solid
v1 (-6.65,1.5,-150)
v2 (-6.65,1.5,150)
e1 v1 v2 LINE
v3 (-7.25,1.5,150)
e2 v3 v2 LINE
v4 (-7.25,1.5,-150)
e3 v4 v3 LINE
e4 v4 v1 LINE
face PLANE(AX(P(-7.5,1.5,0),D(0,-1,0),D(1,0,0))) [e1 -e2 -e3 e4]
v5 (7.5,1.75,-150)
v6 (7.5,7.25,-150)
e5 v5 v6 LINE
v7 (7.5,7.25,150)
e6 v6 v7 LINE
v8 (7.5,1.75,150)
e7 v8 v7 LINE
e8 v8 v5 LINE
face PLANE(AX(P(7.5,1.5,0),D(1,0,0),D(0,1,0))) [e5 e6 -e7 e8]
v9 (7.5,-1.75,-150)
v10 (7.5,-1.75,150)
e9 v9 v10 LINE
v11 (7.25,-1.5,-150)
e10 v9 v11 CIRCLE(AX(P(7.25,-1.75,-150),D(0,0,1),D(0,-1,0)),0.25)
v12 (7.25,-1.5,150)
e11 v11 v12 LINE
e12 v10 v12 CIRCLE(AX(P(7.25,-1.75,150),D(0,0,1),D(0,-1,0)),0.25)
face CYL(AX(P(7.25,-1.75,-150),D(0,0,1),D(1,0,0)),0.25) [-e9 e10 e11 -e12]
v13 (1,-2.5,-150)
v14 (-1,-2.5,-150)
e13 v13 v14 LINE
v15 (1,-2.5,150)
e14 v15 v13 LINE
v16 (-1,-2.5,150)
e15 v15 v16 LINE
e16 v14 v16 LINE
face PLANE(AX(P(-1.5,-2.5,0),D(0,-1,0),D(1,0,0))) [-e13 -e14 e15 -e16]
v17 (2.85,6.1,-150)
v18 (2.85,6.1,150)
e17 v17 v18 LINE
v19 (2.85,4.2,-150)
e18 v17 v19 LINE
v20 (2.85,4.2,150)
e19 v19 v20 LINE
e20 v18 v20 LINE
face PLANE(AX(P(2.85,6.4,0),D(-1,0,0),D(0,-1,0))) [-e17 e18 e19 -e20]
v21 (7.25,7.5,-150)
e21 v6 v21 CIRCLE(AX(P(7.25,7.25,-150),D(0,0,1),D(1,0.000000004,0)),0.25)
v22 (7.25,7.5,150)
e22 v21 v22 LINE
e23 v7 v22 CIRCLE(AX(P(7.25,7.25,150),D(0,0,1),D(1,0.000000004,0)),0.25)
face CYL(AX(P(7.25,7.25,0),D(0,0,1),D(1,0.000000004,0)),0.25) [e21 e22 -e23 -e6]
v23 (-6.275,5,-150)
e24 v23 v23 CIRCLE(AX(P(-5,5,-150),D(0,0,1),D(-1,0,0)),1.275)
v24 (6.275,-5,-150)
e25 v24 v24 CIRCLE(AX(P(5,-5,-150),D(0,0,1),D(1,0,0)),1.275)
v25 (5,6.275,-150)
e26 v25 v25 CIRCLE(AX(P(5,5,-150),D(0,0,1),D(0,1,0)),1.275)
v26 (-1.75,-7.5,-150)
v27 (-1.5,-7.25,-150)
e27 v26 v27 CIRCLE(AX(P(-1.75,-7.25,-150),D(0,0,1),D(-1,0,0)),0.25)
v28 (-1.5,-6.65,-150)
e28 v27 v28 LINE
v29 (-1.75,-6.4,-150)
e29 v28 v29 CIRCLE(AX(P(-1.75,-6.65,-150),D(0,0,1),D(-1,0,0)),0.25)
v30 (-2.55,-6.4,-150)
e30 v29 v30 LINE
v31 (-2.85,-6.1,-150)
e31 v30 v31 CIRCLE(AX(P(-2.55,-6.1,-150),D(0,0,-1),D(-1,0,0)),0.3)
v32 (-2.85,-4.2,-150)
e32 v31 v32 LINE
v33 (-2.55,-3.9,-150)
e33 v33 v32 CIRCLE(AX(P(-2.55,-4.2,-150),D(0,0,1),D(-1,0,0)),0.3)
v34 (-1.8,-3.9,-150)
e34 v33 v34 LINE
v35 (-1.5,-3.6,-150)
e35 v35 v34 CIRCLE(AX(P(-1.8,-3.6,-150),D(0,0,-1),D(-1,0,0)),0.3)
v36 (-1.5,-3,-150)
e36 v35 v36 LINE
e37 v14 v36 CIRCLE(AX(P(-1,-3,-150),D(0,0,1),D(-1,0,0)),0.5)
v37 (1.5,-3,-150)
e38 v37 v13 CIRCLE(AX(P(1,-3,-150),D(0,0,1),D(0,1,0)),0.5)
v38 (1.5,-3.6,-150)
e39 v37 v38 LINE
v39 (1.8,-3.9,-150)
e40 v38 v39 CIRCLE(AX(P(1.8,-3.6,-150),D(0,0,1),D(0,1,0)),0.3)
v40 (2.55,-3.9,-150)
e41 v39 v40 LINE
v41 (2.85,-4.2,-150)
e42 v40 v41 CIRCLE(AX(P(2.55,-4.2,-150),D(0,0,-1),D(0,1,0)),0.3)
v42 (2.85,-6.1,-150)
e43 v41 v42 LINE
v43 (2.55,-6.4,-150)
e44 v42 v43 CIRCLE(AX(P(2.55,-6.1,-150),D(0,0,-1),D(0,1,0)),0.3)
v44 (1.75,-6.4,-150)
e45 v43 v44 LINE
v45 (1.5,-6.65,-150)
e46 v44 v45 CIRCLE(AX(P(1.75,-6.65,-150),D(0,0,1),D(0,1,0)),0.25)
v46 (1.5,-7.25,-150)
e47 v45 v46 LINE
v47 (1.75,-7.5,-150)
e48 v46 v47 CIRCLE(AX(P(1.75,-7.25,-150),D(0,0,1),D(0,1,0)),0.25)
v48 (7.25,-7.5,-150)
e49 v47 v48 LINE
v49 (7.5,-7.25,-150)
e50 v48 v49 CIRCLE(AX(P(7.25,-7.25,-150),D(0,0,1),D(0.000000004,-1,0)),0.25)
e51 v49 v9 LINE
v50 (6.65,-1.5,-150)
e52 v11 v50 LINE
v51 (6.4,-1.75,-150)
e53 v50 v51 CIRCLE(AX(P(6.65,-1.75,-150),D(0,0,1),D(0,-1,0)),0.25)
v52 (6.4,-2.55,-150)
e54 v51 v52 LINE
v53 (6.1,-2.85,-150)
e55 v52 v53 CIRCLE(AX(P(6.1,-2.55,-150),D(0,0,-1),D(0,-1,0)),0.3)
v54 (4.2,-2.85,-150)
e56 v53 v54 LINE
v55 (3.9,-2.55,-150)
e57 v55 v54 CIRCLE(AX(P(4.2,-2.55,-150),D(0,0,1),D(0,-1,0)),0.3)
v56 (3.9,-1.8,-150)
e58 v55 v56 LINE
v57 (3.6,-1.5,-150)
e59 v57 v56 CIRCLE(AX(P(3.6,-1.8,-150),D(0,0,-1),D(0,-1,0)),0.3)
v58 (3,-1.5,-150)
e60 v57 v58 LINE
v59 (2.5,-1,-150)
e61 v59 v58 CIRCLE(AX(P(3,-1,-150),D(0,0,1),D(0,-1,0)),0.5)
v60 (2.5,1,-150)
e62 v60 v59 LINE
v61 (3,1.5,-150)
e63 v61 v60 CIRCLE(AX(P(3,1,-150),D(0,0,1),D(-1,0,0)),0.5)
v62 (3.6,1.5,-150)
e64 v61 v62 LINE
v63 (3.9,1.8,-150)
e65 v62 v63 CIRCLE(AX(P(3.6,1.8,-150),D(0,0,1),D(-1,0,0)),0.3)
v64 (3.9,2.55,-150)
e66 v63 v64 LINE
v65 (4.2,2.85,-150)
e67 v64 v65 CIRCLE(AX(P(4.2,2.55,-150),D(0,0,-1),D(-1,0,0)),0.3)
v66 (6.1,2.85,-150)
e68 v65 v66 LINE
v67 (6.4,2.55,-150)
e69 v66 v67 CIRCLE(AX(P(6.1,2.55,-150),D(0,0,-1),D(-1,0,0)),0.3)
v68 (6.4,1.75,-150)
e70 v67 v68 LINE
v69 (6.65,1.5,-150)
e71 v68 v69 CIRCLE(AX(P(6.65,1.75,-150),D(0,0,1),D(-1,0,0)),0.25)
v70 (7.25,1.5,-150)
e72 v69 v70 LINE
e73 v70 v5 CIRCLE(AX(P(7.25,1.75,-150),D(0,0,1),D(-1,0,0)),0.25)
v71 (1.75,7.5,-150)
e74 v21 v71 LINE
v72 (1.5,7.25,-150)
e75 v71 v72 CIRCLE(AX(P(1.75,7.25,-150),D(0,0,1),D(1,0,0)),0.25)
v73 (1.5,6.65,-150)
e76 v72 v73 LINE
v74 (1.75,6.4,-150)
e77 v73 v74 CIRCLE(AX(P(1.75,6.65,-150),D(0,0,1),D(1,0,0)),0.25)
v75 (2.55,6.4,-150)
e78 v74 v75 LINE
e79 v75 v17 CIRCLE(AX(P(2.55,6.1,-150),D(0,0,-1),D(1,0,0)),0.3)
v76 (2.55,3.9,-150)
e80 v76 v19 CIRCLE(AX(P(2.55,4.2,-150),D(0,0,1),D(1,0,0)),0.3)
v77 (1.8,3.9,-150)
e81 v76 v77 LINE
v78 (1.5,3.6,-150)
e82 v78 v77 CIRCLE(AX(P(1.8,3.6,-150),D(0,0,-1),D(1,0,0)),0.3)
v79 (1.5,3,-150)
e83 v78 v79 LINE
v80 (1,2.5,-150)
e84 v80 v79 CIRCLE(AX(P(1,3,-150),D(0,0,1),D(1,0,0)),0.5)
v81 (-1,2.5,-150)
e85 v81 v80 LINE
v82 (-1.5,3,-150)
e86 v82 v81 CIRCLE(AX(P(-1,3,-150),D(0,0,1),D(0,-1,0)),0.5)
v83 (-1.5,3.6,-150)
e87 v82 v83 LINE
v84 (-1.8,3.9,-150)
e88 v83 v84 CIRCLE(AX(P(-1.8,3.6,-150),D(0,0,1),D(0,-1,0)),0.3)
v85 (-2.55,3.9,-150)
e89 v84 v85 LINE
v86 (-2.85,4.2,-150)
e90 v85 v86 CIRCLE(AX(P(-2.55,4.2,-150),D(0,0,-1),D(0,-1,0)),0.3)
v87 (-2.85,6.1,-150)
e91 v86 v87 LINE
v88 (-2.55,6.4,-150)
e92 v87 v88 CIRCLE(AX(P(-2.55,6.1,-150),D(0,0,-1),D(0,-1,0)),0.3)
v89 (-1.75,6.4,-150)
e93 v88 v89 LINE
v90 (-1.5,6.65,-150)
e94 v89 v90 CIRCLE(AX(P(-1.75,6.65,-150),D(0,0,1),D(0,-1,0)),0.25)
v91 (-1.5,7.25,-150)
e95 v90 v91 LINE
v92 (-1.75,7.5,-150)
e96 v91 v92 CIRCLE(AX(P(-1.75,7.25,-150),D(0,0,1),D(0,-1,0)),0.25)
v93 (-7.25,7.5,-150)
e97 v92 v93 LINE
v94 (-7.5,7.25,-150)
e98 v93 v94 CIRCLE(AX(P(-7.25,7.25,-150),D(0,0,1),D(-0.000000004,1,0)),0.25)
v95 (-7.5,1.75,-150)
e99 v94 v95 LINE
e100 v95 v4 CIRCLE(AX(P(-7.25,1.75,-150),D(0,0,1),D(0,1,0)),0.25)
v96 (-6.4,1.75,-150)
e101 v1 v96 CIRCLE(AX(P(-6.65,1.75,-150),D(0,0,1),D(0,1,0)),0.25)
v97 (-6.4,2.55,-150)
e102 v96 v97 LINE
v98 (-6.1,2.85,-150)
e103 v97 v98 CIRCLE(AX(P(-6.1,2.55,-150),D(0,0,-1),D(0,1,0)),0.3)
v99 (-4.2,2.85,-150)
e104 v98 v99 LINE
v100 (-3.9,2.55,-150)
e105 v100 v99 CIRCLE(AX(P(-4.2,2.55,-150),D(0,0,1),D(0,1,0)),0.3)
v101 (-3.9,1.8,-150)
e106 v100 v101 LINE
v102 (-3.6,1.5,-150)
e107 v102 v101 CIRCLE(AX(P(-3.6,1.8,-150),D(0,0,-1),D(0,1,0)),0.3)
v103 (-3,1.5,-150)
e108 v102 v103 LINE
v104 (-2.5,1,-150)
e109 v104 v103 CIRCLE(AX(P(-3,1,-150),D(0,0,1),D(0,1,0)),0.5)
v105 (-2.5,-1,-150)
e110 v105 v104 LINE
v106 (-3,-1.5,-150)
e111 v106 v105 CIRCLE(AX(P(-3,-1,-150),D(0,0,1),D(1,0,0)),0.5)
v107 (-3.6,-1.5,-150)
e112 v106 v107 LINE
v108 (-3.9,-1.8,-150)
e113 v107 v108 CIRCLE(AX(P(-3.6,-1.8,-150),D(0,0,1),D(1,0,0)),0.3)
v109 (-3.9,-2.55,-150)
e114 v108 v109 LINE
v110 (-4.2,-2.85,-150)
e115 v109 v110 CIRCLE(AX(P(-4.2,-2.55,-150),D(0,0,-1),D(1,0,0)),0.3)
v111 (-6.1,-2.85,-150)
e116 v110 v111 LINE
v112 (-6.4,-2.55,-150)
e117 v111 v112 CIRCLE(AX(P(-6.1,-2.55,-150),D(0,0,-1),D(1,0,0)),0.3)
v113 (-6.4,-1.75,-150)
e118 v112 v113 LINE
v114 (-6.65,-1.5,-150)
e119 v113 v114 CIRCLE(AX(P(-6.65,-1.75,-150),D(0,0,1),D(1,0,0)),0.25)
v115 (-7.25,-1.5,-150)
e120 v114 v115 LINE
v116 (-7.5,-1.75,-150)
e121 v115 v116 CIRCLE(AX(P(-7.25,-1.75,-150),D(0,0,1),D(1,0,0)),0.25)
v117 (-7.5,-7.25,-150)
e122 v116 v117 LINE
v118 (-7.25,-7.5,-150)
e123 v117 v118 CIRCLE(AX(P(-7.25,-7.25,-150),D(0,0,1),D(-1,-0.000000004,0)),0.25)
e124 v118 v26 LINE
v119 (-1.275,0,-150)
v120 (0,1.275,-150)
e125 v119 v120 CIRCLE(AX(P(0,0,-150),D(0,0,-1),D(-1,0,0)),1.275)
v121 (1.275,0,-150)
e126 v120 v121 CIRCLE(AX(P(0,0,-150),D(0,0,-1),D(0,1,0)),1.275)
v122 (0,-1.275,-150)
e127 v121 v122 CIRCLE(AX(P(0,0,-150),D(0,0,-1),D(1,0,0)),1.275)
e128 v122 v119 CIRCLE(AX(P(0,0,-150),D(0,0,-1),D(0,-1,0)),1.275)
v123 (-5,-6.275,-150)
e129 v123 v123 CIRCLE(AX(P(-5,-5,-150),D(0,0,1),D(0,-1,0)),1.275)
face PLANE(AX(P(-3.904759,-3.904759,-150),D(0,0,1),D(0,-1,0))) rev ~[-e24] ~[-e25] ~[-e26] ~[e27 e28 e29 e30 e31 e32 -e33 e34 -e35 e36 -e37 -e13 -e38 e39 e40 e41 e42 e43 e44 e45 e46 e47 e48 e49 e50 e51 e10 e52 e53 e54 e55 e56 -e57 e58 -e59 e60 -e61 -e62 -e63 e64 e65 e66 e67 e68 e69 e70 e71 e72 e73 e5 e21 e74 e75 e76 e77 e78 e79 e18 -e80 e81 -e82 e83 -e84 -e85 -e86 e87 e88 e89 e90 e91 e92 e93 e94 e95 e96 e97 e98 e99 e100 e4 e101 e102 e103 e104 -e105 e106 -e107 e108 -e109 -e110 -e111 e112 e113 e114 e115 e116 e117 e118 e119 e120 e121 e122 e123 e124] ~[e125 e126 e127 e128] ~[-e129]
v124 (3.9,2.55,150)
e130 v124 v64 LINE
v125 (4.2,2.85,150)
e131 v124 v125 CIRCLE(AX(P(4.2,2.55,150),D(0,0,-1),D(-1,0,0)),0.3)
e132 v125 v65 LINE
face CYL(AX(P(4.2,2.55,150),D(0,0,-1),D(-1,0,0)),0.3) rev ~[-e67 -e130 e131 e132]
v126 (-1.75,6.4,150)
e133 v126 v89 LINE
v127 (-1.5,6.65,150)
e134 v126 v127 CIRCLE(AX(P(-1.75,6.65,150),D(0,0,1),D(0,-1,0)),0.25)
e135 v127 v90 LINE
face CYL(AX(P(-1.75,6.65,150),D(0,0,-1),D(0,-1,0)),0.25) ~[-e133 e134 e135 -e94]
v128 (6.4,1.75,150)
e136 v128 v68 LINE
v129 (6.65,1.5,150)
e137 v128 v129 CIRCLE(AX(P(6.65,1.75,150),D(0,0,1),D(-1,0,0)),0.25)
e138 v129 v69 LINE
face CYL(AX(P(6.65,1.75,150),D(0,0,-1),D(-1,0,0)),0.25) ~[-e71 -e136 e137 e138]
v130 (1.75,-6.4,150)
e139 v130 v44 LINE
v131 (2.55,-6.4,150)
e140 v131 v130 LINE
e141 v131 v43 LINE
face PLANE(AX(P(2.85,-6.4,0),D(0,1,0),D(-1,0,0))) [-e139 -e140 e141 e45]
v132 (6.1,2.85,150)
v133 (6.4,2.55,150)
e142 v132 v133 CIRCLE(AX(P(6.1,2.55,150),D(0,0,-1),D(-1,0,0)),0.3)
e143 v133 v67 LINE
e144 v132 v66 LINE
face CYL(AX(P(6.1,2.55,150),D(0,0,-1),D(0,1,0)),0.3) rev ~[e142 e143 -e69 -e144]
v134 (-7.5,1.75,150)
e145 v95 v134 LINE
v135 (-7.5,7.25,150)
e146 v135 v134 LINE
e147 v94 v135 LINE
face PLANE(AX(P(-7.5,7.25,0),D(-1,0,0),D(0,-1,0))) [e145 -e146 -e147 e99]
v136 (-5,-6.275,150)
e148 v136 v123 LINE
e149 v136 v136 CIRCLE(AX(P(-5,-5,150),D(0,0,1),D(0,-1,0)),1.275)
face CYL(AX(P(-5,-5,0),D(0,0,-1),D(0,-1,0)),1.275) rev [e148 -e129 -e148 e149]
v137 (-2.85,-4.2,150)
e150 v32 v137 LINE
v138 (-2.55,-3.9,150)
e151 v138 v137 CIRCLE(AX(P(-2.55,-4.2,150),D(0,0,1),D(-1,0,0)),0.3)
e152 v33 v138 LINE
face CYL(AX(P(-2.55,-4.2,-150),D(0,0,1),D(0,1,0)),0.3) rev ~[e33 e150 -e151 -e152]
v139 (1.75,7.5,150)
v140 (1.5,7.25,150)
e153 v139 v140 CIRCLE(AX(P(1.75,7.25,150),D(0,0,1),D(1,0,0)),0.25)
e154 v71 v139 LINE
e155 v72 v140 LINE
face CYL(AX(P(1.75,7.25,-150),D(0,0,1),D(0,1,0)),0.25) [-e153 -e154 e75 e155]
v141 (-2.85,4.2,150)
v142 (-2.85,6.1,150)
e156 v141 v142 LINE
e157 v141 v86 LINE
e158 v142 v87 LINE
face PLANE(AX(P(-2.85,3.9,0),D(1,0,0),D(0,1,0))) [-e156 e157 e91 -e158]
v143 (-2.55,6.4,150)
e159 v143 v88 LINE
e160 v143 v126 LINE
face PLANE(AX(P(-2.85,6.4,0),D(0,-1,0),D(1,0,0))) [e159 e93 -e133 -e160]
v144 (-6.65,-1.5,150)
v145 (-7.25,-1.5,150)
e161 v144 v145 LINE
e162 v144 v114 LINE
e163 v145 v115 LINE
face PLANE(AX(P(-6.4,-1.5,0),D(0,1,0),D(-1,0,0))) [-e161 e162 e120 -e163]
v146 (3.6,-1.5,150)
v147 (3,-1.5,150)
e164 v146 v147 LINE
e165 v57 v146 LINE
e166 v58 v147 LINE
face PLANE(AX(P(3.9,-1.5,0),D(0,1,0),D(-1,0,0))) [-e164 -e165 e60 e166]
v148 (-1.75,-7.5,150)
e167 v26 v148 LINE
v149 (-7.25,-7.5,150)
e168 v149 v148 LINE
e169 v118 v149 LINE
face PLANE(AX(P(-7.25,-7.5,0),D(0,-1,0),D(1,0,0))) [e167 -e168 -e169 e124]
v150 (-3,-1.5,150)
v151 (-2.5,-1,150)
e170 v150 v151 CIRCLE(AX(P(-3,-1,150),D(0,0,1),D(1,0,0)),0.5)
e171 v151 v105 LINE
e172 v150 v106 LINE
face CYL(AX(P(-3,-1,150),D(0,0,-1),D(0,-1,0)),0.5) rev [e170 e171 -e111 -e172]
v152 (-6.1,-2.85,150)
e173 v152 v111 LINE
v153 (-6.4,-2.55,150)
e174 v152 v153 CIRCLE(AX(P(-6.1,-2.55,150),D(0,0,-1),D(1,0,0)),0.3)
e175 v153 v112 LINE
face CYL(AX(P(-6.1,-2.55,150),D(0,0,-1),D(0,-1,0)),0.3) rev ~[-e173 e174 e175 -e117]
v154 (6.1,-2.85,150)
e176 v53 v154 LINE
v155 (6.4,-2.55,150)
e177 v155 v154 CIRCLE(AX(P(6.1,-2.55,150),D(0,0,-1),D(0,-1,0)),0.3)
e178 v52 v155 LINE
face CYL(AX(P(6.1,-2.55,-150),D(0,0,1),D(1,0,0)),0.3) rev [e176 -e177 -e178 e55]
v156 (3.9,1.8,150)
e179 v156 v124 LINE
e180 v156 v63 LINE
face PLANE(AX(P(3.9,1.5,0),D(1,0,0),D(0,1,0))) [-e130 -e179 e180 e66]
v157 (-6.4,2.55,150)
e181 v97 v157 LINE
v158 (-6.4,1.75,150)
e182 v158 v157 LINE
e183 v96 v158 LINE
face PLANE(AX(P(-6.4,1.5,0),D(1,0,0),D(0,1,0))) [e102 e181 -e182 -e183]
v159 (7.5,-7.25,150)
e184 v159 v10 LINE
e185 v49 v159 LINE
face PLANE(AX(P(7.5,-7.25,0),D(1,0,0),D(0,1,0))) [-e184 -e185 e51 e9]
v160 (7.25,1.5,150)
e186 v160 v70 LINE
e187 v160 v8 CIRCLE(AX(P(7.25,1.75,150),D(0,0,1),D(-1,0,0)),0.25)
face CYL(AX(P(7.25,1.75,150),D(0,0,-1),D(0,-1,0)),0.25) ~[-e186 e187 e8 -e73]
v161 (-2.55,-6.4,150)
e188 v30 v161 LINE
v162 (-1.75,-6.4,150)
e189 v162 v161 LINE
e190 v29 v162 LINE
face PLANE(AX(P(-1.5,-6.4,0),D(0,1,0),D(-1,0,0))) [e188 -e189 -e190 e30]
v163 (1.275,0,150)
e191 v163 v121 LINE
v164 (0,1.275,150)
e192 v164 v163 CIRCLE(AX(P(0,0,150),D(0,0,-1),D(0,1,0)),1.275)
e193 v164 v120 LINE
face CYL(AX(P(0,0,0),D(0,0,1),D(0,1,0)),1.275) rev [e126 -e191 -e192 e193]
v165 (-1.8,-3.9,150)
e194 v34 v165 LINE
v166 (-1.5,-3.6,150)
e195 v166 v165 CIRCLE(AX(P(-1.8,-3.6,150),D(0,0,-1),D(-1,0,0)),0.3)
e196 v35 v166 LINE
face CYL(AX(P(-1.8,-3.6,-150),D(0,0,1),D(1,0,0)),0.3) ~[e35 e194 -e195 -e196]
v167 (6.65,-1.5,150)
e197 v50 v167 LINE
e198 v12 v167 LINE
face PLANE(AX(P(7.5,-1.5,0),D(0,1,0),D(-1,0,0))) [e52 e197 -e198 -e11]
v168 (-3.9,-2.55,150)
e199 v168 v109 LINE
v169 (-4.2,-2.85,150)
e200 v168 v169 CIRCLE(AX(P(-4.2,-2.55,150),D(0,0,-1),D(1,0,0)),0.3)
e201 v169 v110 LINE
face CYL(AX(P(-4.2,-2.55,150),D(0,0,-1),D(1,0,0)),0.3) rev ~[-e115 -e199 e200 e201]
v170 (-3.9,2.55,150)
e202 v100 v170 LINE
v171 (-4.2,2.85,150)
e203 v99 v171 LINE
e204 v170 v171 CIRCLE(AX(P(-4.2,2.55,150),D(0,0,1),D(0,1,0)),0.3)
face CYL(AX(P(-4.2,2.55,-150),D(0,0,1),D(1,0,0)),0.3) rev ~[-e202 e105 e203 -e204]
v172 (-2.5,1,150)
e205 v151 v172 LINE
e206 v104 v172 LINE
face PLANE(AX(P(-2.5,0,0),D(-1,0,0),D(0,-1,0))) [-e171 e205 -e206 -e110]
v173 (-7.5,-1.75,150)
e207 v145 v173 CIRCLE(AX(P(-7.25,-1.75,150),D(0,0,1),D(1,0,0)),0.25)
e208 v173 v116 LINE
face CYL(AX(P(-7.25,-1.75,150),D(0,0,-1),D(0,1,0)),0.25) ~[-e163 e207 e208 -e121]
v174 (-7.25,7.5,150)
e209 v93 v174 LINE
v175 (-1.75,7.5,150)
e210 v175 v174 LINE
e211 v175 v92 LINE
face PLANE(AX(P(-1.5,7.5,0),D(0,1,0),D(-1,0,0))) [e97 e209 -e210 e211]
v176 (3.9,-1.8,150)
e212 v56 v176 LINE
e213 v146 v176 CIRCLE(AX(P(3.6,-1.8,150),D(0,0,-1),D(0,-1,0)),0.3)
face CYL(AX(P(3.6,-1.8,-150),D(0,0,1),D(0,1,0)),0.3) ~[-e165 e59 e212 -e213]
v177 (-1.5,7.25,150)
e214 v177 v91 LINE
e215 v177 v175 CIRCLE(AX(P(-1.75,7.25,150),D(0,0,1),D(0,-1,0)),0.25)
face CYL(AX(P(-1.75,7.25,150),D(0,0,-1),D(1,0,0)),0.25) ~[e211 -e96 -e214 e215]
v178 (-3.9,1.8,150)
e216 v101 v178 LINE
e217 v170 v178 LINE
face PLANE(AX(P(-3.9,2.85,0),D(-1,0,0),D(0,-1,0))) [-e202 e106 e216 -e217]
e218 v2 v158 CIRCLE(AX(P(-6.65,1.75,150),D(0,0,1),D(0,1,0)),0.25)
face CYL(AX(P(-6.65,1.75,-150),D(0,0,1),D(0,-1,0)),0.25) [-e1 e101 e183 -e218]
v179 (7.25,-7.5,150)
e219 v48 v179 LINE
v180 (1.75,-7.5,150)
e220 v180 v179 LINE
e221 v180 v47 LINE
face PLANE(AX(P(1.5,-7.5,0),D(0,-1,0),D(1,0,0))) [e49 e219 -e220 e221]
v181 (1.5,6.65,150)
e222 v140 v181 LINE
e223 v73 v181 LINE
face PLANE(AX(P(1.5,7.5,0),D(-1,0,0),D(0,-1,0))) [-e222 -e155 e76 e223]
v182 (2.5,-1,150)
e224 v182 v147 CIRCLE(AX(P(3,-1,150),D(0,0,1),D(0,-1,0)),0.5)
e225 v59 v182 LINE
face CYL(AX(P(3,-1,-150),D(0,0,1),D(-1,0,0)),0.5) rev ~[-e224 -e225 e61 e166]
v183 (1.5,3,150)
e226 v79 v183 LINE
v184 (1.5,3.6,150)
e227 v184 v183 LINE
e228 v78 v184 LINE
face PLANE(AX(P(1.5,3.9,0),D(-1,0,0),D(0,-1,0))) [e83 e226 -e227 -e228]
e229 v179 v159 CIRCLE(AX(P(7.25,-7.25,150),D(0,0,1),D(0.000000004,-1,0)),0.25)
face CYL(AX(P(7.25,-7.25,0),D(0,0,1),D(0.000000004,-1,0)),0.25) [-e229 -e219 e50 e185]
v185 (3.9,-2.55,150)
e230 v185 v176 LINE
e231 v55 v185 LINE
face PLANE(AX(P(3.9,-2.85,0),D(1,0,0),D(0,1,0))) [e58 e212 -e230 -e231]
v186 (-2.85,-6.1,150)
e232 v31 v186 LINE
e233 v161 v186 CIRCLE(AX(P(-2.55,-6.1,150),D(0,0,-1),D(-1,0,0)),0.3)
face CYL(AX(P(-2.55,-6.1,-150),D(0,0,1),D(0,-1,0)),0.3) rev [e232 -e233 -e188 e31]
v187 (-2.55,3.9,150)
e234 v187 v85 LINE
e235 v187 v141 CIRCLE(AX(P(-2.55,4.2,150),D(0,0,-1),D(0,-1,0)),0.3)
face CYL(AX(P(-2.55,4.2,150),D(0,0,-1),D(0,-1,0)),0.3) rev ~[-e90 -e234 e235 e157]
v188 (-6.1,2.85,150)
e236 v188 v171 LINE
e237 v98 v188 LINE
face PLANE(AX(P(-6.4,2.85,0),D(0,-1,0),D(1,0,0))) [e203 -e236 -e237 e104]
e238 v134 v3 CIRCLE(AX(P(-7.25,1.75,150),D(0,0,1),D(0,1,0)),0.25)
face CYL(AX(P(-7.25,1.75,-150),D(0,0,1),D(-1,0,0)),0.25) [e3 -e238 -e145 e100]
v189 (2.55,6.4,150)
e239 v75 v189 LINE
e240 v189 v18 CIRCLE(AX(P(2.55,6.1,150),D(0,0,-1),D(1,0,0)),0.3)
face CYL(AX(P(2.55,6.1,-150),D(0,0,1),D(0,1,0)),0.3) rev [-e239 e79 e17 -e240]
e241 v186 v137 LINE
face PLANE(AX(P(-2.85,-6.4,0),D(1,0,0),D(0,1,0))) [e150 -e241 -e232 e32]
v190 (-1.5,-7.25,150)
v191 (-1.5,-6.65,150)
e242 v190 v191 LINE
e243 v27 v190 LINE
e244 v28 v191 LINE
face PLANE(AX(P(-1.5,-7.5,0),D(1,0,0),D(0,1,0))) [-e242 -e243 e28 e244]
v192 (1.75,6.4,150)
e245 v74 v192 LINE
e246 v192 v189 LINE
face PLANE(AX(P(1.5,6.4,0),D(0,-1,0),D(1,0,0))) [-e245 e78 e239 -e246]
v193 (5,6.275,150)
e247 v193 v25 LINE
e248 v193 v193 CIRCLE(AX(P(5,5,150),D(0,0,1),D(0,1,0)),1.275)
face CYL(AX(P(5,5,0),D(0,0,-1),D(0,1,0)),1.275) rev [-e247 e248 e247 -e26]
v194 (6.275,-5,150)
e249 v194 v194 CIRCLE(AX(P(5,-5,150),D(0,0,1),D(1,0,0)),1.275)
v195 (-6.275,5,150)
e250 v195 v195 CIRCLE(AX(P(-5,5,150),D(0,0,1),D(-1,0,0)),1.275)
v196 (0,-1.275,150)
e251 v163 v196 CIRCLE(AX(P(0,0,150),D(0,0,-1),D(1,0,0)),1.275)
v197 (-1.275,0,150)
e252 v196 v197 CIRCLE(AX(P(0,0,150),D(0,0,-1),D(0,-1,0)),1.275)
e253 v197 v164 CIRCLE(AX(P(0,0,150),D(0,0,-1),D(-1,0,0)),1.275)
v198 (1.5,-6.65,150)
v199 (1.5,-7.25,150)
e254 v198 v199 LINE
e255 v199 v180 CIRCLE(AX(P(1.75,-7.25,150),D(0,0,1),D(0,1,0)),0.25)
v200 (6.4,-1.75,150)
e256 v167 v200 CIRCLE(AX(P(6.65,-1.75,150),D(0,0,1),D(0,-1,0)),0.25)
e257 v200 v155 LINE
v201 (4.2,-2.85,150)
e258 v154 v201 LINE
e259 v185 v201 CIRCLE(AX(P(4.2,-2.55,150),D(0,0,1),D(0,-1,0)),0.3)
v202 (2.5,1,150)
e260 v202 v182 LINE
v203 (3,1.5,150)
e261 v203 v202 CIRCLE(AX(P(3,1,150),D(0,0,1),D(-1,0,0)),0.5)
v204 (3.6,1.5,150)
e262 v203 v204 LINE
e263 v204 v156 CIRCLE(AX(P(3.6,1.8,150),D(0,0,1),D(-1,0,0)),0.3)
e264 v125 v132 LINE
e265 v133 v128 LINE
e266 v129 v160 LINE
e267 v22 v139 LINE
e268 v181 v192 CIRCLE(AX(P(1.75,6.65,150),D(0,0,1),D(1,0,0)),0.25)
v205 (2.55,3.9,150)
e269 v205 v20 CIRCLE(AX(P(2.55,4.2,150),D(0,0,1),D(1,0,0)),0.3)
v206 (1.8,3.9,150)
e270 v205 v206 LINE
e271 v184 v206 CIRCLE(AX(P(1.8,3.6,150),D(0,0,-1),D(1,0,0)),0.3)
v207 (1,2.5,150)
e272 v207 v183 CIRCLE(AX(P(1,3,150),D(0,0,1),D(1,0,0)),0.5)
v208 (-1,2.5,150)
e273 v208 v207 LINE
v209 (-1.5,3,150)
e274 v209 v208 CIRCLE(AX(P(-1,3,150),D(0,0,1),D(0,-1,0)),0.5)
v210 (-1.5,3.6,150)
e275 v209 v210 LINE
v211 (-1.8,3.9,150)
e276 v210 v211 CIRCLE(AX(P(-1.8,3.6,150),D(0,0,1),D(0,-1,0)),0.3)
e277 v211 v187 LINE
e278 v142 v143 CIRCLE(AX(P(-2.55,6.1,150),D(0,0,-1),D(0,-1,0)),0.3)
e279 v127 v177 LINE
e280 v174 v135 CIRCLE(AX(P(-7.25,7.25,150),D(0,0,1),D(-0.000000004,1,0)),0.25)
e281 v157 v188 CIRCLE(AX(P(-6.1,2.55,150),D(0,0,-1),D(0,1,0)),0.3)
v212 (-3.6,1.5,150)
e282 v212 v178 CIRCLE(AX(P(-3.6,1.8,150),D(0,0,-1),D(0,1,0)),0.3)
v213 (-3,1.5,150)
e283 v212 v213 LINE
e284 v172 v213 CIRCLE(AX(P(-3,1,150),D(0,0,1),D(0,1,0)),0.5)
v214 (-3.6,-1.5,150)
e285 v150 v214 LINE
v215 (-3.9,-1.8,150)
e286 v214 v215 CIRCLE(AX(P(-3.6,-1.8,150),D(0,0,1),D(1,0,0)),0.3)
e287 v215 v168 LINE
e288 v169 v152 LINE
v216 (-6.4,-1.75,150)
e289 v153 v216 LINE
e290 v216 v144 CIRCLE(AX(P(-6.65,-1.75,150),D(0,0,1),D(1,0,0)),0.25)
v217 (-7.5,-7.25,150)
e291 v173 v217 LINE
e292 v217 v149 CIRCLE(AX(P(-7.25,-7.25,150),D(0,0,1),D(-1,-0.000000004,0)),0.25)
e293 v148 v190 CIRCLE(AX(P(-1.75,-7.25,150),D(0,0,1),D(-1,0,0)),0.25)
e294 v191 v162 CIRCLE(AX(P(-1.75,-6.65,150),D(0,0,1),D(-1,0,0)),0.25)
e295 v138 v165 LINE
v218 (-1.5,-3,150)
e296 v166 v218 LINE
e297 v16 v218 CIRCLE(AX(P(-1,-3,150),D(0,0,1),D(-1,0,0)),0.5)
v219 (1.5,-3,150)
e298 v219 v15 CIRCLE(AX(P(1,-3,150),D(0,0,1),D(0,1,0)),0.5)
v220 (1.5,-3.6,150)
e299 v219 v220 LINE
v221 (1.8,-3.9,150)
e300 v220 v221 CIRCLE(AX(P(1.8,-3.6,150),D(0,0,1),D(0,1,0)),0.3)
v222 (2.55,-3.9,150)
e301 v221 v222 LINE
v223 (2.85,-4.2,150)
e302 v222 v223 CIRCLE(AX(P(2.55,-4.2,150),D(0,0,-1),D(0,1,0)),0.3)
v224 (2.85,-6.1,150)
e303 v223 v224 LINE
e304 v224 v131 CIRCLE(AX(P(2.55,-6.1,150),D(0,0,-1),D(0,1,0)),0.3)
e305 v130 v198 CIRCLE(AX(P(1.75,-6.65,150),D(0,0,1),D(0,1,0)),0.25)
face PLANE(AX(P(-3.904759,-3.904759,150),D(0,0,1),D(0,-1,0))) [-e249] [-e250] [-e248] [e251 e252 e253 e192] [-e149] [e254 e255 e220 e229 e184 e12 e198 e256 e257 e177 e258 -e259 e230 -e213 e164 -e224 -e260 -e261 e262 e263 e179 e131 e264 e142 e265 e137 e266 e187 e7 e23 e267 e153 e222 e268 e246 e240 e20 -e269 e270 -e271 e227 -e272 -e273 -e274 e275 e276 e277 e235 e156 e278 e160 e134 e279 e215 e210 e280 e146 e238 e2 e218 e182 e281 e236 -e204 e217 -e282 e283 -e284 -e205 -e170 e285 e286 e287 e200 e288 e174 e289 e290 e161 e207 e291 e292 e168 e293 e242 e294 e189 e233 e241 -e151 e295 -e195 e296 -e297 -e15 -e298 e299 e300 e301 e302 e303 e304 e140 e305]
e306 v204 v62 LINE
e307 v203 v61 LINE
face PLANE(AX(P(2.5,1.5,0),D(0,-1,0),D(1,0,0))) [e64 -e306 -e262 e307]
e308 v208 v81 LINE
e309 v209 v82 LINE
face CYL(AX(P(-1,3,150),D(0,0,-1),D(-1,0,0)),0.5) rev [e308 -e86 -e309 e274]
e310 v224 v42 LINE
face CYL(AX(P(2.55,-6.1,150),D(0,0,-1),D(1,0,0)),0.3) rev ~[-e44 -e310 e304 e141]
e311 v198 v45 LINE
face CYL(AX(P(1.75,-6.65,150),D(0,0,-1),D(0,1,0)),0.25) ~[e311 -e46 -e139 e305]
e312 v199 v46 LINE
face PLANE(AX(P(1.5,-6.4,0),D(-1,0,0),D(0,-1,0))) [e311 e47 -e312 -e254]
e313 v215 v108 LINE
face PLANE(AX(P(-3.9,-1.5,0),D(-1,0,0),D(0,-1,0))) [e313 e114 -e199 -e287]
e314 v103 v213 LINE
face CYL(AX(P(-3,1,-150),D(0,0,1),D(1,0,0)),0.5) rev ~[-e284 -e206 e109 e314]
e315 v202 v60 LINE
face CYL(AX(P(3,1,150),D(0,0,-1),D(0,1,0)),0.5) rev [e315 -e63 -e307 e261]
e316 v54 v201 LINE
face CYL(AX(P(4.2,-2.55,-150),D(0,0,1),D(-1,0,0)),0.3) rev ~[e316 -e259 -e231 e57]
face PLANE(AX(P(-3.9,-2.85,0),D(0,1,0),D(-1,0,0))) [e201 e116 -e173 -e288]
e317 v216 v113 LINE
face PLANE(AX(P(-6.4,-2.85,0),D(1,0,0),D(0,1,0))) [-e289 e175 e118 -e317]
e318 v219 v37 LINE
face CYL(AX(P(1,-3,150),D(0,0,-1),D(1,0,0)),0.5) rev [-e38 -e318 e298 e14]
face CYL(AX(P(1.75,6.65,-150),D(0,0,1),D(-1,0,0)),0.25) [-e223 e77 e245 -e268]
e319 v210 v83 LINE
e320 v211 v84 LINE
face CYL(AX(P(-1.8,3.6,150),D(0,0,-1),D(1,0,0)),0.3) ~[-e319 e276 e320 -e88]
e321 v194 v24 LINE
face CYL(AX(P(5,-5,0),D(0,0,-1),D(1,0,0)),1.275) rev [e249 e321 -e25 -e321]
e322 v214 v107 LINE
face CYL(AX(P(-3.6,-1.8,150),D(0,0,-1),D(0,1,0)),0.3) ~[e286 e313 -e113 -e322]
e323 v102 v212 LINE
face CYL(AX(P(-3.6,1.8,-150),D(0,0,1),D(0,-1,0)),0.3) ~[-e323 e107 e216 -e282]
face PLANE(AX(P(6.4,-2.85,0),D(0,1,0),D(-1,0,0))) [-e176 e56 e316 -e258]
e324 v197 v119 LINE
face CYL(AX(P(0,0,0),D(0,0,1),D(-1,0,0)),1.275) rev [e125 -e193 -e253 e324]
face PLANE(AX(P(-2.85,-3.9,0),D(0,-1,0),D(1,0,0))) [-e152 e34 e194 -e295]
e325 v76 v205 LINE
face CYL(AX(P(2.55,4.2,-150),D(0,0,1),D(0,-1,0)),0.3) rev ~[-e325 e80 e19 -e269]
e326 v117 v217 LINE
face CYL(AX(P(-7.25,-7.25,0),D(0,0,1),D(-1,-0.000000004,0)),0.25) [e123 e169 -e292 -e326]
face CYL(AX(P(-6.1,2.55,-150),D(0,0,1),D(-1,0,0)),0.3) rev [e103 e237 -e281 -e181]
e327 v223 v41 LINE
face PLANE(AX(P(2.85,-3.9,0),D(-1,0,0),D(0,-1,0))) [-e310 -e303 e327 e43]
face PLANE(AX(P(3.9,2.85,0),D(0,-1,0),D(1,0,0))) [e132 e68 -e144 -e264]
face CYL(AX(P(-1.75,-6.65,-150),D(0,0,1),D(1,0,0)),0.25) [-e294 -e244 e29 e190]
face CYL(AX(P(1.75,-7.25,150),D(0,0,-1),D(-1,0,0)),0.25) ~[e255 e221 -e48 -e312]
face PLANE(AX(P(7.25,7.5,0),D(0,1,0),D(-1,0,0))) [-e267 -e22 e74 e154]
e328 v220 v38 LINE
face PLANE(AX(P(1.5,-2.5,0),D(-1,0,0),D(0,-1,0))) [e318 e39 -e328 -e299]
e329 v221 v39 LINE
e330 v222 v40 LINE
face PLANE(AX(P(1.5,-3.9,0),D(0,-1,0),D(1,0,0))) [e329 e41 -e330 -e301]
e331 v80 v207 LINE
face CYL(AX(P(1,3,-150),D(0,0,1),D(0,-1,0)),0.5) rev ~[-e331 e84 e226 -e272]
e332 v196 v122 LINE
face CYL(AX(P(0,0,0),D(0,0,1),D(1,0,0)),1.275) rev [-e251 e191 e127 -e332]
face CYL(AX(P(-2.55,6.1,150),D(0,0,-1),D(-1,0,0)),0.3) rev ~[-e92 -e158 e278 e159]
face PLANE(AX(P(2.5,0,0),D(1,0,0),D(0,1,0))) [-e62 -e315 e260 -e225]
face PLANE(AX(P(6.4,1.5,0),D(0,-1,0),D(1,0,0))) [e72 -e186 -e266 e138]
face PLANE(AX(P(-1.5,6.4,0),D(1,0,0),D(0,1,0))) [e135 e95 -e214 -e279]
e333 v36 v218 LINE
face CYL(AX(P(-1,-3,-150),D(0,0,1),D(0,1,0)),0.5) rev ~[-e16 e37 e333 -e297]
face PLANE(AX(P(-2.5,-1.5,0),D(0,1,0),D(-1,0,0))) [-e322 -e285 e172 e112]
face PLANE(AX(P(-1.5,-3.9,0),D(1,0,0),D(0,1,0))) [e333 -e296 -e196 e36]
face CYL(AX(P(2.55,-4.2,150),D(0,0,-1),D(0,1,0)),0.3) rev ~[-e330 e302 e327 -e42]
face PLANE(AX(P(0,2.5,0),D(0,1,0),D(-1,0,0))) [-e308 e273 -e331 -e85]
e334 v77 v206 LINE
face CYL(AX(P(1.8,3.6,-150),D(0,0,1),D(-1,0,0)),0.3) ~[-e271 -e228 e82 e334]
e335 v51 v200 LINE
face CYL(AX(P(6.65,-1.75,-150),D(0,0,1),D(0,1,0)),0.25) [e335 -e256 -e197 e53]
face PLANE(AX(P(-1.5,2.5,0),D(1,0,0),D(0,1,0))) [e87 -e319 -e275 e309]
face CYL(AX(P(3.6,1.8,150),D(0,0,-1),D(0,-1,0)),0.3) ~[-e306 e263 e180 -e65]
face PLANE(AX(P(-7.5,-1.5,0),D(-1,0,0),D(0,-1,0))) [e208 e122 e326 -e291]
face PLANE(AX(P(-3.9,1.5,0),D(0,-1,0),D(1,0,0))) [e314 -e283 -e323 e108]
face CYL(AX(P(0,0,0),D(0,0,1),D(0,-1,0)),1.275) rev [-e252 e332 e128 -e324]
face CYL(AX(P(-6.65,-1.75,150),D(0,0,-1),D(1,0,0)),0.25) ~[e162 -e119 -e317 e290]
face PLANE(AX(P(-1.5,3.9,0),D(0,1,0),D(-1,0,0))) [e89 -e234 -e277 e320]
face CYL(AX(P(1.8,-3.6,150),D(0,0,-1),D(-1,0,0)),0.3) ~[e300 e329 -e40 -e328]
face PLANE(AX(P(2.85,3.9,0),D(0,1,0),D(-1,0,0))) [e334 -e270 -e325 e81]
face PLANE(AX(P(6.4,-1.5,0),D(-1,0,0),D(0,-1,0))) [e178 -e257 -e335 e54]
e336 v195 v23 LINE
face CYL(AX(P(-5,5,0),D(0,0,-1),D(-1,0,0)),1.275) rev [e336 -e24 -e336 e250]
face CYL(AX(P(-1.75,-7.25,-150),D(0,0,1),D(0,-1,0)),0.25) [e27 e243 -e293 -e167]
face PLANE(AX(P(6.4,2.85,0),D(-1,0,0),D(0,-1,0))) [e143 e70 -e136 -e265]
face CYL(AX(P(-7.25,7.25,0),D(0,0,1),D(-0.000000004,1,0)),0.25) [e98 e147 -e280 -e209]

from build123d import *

# Parameters (mm, degrees)
SKETCH1_R           = 1.275
BOSS_EXTRUDE1_DEPTH = 150
FILLET2_R           = 0.5
FILLET3_R           = 0.3
FILLET1_R           = 0.25
CIRPATTERN1_COUNT   = 4


with BuildPart() as part:
    # Sketch1 → Boss-Extrude1 (new, symmetric)
    with BuildSketch(Plane.XY):
        with BuildLine():
            Line((1.5, -7.5), (7.25, -7.5))
            ThreePointArc((7.25, -7.5), (7.426776695, -7.426776695), (7.5, -7.25))
            Line((7.5, -7.25), (7.5, -1.5))
            Line((7.5, -1.5), (6.4, -1.5))
            Line((6.4, -1.5), (6.4, -2.85))
            Line((6.4, -2.85), (3.9, -2.85))
            Line((3.9, -2.85), (3.9, -1.5))
            Line((3.9, -1.5), (2.5, -1.5))
            Line((2.5, -1.5), (2.5, 0))
            Line((2.5, 0), (1.275, 0))
            ThreePointArc((1.275, 0), (0.901561146, -0.901561146), (0, -1.275))
            Line((0, -1.275), (0, -2.5))
            Line((0, -2.5), (1.5, -2.5))
            Line((1.5, -2.5), (1.5, -3.9))
            Line((1.5, -3.9), (2.85, -3.9))
            Line((2.85, -3.9), (2.85, -6.4))
            Line((2.85, -6.4), (1.5, -6.4))
            Line((1.5, -6.4), (1.5, -7.5))
        make_face()
        with Locations((5, -5)):
            Circle(SKETCH1_R, mode=Mode.SUBTRACT)
    extrude(amount=BOSS_EXTRUDE1_DEPTH, both=True)

    # Fillet2
    fillet2_edges = [part.edges().sort_by_distance(p)[0] for p in [
        (2.5, -1.5, 0),
        (1.5, -2.5, 0),
    ]]
    fillet(fillet2_edges, radius=FILLET2_R)

    # Fillet3
    fillet3_edges = [part.edges().sort_by_distance(p)[0] for p in [
        (3.9, -1.5, 0),
        (3.9, -2.85, 0),
        (6.4, -2.85, 0),
        (2.85, -6.4, 0),
        (2.85, -3.9, 0),
        (1.5, -3.9, 0),
    ]]
    fillet(fillet3_edges, radius=FILLET3_R)

    # Fillet1
    fillet1_edges = [part.edges().sort_by_distance(p)[0] for p in [
        (6.4, -1.5, 0),
        (7.5, -1.5, 0),
        (1.5, -7.5, 0),
        (1.5, -6.4, 0),
    ]]
    fillet(fillet1_edges, radius=FILLET1_R)


with BuildPart() as cirpattern1_1:
    # CirPattern1: pattern copy
    add(part.part.rotate(Axis((0, 0, 0), (0, 0, 1)), 1 * 360 / CIRPATTERN1_COUNT))


with BuildPart() as cirpattern1_2:
    # CirPattern1: pattern copy
    add(part.part.rotate(Axis((0, 0, 0), (0, 0, 1)), 2 * 360 / CIRPATTERN1_COUNT))


with BuildPart() as cirpattern1_3:
    # CirPattern1: pattern copy
    add(part.part.rotate(Axis((0, 0, 0), (0, 0, 1)), 3 * 360 / CIRPATTERN1_COUNT))


with BuildPart() as part_1:
    add(part.part)

    # Combine1: union CirPattern1_1, CirPattern1_2, CirPattern1_3
    add(cirpattern1_1.part)
    add(cirpattern1_2.part)
    add(cirpattern1_3.part)


solid = part_1.part
